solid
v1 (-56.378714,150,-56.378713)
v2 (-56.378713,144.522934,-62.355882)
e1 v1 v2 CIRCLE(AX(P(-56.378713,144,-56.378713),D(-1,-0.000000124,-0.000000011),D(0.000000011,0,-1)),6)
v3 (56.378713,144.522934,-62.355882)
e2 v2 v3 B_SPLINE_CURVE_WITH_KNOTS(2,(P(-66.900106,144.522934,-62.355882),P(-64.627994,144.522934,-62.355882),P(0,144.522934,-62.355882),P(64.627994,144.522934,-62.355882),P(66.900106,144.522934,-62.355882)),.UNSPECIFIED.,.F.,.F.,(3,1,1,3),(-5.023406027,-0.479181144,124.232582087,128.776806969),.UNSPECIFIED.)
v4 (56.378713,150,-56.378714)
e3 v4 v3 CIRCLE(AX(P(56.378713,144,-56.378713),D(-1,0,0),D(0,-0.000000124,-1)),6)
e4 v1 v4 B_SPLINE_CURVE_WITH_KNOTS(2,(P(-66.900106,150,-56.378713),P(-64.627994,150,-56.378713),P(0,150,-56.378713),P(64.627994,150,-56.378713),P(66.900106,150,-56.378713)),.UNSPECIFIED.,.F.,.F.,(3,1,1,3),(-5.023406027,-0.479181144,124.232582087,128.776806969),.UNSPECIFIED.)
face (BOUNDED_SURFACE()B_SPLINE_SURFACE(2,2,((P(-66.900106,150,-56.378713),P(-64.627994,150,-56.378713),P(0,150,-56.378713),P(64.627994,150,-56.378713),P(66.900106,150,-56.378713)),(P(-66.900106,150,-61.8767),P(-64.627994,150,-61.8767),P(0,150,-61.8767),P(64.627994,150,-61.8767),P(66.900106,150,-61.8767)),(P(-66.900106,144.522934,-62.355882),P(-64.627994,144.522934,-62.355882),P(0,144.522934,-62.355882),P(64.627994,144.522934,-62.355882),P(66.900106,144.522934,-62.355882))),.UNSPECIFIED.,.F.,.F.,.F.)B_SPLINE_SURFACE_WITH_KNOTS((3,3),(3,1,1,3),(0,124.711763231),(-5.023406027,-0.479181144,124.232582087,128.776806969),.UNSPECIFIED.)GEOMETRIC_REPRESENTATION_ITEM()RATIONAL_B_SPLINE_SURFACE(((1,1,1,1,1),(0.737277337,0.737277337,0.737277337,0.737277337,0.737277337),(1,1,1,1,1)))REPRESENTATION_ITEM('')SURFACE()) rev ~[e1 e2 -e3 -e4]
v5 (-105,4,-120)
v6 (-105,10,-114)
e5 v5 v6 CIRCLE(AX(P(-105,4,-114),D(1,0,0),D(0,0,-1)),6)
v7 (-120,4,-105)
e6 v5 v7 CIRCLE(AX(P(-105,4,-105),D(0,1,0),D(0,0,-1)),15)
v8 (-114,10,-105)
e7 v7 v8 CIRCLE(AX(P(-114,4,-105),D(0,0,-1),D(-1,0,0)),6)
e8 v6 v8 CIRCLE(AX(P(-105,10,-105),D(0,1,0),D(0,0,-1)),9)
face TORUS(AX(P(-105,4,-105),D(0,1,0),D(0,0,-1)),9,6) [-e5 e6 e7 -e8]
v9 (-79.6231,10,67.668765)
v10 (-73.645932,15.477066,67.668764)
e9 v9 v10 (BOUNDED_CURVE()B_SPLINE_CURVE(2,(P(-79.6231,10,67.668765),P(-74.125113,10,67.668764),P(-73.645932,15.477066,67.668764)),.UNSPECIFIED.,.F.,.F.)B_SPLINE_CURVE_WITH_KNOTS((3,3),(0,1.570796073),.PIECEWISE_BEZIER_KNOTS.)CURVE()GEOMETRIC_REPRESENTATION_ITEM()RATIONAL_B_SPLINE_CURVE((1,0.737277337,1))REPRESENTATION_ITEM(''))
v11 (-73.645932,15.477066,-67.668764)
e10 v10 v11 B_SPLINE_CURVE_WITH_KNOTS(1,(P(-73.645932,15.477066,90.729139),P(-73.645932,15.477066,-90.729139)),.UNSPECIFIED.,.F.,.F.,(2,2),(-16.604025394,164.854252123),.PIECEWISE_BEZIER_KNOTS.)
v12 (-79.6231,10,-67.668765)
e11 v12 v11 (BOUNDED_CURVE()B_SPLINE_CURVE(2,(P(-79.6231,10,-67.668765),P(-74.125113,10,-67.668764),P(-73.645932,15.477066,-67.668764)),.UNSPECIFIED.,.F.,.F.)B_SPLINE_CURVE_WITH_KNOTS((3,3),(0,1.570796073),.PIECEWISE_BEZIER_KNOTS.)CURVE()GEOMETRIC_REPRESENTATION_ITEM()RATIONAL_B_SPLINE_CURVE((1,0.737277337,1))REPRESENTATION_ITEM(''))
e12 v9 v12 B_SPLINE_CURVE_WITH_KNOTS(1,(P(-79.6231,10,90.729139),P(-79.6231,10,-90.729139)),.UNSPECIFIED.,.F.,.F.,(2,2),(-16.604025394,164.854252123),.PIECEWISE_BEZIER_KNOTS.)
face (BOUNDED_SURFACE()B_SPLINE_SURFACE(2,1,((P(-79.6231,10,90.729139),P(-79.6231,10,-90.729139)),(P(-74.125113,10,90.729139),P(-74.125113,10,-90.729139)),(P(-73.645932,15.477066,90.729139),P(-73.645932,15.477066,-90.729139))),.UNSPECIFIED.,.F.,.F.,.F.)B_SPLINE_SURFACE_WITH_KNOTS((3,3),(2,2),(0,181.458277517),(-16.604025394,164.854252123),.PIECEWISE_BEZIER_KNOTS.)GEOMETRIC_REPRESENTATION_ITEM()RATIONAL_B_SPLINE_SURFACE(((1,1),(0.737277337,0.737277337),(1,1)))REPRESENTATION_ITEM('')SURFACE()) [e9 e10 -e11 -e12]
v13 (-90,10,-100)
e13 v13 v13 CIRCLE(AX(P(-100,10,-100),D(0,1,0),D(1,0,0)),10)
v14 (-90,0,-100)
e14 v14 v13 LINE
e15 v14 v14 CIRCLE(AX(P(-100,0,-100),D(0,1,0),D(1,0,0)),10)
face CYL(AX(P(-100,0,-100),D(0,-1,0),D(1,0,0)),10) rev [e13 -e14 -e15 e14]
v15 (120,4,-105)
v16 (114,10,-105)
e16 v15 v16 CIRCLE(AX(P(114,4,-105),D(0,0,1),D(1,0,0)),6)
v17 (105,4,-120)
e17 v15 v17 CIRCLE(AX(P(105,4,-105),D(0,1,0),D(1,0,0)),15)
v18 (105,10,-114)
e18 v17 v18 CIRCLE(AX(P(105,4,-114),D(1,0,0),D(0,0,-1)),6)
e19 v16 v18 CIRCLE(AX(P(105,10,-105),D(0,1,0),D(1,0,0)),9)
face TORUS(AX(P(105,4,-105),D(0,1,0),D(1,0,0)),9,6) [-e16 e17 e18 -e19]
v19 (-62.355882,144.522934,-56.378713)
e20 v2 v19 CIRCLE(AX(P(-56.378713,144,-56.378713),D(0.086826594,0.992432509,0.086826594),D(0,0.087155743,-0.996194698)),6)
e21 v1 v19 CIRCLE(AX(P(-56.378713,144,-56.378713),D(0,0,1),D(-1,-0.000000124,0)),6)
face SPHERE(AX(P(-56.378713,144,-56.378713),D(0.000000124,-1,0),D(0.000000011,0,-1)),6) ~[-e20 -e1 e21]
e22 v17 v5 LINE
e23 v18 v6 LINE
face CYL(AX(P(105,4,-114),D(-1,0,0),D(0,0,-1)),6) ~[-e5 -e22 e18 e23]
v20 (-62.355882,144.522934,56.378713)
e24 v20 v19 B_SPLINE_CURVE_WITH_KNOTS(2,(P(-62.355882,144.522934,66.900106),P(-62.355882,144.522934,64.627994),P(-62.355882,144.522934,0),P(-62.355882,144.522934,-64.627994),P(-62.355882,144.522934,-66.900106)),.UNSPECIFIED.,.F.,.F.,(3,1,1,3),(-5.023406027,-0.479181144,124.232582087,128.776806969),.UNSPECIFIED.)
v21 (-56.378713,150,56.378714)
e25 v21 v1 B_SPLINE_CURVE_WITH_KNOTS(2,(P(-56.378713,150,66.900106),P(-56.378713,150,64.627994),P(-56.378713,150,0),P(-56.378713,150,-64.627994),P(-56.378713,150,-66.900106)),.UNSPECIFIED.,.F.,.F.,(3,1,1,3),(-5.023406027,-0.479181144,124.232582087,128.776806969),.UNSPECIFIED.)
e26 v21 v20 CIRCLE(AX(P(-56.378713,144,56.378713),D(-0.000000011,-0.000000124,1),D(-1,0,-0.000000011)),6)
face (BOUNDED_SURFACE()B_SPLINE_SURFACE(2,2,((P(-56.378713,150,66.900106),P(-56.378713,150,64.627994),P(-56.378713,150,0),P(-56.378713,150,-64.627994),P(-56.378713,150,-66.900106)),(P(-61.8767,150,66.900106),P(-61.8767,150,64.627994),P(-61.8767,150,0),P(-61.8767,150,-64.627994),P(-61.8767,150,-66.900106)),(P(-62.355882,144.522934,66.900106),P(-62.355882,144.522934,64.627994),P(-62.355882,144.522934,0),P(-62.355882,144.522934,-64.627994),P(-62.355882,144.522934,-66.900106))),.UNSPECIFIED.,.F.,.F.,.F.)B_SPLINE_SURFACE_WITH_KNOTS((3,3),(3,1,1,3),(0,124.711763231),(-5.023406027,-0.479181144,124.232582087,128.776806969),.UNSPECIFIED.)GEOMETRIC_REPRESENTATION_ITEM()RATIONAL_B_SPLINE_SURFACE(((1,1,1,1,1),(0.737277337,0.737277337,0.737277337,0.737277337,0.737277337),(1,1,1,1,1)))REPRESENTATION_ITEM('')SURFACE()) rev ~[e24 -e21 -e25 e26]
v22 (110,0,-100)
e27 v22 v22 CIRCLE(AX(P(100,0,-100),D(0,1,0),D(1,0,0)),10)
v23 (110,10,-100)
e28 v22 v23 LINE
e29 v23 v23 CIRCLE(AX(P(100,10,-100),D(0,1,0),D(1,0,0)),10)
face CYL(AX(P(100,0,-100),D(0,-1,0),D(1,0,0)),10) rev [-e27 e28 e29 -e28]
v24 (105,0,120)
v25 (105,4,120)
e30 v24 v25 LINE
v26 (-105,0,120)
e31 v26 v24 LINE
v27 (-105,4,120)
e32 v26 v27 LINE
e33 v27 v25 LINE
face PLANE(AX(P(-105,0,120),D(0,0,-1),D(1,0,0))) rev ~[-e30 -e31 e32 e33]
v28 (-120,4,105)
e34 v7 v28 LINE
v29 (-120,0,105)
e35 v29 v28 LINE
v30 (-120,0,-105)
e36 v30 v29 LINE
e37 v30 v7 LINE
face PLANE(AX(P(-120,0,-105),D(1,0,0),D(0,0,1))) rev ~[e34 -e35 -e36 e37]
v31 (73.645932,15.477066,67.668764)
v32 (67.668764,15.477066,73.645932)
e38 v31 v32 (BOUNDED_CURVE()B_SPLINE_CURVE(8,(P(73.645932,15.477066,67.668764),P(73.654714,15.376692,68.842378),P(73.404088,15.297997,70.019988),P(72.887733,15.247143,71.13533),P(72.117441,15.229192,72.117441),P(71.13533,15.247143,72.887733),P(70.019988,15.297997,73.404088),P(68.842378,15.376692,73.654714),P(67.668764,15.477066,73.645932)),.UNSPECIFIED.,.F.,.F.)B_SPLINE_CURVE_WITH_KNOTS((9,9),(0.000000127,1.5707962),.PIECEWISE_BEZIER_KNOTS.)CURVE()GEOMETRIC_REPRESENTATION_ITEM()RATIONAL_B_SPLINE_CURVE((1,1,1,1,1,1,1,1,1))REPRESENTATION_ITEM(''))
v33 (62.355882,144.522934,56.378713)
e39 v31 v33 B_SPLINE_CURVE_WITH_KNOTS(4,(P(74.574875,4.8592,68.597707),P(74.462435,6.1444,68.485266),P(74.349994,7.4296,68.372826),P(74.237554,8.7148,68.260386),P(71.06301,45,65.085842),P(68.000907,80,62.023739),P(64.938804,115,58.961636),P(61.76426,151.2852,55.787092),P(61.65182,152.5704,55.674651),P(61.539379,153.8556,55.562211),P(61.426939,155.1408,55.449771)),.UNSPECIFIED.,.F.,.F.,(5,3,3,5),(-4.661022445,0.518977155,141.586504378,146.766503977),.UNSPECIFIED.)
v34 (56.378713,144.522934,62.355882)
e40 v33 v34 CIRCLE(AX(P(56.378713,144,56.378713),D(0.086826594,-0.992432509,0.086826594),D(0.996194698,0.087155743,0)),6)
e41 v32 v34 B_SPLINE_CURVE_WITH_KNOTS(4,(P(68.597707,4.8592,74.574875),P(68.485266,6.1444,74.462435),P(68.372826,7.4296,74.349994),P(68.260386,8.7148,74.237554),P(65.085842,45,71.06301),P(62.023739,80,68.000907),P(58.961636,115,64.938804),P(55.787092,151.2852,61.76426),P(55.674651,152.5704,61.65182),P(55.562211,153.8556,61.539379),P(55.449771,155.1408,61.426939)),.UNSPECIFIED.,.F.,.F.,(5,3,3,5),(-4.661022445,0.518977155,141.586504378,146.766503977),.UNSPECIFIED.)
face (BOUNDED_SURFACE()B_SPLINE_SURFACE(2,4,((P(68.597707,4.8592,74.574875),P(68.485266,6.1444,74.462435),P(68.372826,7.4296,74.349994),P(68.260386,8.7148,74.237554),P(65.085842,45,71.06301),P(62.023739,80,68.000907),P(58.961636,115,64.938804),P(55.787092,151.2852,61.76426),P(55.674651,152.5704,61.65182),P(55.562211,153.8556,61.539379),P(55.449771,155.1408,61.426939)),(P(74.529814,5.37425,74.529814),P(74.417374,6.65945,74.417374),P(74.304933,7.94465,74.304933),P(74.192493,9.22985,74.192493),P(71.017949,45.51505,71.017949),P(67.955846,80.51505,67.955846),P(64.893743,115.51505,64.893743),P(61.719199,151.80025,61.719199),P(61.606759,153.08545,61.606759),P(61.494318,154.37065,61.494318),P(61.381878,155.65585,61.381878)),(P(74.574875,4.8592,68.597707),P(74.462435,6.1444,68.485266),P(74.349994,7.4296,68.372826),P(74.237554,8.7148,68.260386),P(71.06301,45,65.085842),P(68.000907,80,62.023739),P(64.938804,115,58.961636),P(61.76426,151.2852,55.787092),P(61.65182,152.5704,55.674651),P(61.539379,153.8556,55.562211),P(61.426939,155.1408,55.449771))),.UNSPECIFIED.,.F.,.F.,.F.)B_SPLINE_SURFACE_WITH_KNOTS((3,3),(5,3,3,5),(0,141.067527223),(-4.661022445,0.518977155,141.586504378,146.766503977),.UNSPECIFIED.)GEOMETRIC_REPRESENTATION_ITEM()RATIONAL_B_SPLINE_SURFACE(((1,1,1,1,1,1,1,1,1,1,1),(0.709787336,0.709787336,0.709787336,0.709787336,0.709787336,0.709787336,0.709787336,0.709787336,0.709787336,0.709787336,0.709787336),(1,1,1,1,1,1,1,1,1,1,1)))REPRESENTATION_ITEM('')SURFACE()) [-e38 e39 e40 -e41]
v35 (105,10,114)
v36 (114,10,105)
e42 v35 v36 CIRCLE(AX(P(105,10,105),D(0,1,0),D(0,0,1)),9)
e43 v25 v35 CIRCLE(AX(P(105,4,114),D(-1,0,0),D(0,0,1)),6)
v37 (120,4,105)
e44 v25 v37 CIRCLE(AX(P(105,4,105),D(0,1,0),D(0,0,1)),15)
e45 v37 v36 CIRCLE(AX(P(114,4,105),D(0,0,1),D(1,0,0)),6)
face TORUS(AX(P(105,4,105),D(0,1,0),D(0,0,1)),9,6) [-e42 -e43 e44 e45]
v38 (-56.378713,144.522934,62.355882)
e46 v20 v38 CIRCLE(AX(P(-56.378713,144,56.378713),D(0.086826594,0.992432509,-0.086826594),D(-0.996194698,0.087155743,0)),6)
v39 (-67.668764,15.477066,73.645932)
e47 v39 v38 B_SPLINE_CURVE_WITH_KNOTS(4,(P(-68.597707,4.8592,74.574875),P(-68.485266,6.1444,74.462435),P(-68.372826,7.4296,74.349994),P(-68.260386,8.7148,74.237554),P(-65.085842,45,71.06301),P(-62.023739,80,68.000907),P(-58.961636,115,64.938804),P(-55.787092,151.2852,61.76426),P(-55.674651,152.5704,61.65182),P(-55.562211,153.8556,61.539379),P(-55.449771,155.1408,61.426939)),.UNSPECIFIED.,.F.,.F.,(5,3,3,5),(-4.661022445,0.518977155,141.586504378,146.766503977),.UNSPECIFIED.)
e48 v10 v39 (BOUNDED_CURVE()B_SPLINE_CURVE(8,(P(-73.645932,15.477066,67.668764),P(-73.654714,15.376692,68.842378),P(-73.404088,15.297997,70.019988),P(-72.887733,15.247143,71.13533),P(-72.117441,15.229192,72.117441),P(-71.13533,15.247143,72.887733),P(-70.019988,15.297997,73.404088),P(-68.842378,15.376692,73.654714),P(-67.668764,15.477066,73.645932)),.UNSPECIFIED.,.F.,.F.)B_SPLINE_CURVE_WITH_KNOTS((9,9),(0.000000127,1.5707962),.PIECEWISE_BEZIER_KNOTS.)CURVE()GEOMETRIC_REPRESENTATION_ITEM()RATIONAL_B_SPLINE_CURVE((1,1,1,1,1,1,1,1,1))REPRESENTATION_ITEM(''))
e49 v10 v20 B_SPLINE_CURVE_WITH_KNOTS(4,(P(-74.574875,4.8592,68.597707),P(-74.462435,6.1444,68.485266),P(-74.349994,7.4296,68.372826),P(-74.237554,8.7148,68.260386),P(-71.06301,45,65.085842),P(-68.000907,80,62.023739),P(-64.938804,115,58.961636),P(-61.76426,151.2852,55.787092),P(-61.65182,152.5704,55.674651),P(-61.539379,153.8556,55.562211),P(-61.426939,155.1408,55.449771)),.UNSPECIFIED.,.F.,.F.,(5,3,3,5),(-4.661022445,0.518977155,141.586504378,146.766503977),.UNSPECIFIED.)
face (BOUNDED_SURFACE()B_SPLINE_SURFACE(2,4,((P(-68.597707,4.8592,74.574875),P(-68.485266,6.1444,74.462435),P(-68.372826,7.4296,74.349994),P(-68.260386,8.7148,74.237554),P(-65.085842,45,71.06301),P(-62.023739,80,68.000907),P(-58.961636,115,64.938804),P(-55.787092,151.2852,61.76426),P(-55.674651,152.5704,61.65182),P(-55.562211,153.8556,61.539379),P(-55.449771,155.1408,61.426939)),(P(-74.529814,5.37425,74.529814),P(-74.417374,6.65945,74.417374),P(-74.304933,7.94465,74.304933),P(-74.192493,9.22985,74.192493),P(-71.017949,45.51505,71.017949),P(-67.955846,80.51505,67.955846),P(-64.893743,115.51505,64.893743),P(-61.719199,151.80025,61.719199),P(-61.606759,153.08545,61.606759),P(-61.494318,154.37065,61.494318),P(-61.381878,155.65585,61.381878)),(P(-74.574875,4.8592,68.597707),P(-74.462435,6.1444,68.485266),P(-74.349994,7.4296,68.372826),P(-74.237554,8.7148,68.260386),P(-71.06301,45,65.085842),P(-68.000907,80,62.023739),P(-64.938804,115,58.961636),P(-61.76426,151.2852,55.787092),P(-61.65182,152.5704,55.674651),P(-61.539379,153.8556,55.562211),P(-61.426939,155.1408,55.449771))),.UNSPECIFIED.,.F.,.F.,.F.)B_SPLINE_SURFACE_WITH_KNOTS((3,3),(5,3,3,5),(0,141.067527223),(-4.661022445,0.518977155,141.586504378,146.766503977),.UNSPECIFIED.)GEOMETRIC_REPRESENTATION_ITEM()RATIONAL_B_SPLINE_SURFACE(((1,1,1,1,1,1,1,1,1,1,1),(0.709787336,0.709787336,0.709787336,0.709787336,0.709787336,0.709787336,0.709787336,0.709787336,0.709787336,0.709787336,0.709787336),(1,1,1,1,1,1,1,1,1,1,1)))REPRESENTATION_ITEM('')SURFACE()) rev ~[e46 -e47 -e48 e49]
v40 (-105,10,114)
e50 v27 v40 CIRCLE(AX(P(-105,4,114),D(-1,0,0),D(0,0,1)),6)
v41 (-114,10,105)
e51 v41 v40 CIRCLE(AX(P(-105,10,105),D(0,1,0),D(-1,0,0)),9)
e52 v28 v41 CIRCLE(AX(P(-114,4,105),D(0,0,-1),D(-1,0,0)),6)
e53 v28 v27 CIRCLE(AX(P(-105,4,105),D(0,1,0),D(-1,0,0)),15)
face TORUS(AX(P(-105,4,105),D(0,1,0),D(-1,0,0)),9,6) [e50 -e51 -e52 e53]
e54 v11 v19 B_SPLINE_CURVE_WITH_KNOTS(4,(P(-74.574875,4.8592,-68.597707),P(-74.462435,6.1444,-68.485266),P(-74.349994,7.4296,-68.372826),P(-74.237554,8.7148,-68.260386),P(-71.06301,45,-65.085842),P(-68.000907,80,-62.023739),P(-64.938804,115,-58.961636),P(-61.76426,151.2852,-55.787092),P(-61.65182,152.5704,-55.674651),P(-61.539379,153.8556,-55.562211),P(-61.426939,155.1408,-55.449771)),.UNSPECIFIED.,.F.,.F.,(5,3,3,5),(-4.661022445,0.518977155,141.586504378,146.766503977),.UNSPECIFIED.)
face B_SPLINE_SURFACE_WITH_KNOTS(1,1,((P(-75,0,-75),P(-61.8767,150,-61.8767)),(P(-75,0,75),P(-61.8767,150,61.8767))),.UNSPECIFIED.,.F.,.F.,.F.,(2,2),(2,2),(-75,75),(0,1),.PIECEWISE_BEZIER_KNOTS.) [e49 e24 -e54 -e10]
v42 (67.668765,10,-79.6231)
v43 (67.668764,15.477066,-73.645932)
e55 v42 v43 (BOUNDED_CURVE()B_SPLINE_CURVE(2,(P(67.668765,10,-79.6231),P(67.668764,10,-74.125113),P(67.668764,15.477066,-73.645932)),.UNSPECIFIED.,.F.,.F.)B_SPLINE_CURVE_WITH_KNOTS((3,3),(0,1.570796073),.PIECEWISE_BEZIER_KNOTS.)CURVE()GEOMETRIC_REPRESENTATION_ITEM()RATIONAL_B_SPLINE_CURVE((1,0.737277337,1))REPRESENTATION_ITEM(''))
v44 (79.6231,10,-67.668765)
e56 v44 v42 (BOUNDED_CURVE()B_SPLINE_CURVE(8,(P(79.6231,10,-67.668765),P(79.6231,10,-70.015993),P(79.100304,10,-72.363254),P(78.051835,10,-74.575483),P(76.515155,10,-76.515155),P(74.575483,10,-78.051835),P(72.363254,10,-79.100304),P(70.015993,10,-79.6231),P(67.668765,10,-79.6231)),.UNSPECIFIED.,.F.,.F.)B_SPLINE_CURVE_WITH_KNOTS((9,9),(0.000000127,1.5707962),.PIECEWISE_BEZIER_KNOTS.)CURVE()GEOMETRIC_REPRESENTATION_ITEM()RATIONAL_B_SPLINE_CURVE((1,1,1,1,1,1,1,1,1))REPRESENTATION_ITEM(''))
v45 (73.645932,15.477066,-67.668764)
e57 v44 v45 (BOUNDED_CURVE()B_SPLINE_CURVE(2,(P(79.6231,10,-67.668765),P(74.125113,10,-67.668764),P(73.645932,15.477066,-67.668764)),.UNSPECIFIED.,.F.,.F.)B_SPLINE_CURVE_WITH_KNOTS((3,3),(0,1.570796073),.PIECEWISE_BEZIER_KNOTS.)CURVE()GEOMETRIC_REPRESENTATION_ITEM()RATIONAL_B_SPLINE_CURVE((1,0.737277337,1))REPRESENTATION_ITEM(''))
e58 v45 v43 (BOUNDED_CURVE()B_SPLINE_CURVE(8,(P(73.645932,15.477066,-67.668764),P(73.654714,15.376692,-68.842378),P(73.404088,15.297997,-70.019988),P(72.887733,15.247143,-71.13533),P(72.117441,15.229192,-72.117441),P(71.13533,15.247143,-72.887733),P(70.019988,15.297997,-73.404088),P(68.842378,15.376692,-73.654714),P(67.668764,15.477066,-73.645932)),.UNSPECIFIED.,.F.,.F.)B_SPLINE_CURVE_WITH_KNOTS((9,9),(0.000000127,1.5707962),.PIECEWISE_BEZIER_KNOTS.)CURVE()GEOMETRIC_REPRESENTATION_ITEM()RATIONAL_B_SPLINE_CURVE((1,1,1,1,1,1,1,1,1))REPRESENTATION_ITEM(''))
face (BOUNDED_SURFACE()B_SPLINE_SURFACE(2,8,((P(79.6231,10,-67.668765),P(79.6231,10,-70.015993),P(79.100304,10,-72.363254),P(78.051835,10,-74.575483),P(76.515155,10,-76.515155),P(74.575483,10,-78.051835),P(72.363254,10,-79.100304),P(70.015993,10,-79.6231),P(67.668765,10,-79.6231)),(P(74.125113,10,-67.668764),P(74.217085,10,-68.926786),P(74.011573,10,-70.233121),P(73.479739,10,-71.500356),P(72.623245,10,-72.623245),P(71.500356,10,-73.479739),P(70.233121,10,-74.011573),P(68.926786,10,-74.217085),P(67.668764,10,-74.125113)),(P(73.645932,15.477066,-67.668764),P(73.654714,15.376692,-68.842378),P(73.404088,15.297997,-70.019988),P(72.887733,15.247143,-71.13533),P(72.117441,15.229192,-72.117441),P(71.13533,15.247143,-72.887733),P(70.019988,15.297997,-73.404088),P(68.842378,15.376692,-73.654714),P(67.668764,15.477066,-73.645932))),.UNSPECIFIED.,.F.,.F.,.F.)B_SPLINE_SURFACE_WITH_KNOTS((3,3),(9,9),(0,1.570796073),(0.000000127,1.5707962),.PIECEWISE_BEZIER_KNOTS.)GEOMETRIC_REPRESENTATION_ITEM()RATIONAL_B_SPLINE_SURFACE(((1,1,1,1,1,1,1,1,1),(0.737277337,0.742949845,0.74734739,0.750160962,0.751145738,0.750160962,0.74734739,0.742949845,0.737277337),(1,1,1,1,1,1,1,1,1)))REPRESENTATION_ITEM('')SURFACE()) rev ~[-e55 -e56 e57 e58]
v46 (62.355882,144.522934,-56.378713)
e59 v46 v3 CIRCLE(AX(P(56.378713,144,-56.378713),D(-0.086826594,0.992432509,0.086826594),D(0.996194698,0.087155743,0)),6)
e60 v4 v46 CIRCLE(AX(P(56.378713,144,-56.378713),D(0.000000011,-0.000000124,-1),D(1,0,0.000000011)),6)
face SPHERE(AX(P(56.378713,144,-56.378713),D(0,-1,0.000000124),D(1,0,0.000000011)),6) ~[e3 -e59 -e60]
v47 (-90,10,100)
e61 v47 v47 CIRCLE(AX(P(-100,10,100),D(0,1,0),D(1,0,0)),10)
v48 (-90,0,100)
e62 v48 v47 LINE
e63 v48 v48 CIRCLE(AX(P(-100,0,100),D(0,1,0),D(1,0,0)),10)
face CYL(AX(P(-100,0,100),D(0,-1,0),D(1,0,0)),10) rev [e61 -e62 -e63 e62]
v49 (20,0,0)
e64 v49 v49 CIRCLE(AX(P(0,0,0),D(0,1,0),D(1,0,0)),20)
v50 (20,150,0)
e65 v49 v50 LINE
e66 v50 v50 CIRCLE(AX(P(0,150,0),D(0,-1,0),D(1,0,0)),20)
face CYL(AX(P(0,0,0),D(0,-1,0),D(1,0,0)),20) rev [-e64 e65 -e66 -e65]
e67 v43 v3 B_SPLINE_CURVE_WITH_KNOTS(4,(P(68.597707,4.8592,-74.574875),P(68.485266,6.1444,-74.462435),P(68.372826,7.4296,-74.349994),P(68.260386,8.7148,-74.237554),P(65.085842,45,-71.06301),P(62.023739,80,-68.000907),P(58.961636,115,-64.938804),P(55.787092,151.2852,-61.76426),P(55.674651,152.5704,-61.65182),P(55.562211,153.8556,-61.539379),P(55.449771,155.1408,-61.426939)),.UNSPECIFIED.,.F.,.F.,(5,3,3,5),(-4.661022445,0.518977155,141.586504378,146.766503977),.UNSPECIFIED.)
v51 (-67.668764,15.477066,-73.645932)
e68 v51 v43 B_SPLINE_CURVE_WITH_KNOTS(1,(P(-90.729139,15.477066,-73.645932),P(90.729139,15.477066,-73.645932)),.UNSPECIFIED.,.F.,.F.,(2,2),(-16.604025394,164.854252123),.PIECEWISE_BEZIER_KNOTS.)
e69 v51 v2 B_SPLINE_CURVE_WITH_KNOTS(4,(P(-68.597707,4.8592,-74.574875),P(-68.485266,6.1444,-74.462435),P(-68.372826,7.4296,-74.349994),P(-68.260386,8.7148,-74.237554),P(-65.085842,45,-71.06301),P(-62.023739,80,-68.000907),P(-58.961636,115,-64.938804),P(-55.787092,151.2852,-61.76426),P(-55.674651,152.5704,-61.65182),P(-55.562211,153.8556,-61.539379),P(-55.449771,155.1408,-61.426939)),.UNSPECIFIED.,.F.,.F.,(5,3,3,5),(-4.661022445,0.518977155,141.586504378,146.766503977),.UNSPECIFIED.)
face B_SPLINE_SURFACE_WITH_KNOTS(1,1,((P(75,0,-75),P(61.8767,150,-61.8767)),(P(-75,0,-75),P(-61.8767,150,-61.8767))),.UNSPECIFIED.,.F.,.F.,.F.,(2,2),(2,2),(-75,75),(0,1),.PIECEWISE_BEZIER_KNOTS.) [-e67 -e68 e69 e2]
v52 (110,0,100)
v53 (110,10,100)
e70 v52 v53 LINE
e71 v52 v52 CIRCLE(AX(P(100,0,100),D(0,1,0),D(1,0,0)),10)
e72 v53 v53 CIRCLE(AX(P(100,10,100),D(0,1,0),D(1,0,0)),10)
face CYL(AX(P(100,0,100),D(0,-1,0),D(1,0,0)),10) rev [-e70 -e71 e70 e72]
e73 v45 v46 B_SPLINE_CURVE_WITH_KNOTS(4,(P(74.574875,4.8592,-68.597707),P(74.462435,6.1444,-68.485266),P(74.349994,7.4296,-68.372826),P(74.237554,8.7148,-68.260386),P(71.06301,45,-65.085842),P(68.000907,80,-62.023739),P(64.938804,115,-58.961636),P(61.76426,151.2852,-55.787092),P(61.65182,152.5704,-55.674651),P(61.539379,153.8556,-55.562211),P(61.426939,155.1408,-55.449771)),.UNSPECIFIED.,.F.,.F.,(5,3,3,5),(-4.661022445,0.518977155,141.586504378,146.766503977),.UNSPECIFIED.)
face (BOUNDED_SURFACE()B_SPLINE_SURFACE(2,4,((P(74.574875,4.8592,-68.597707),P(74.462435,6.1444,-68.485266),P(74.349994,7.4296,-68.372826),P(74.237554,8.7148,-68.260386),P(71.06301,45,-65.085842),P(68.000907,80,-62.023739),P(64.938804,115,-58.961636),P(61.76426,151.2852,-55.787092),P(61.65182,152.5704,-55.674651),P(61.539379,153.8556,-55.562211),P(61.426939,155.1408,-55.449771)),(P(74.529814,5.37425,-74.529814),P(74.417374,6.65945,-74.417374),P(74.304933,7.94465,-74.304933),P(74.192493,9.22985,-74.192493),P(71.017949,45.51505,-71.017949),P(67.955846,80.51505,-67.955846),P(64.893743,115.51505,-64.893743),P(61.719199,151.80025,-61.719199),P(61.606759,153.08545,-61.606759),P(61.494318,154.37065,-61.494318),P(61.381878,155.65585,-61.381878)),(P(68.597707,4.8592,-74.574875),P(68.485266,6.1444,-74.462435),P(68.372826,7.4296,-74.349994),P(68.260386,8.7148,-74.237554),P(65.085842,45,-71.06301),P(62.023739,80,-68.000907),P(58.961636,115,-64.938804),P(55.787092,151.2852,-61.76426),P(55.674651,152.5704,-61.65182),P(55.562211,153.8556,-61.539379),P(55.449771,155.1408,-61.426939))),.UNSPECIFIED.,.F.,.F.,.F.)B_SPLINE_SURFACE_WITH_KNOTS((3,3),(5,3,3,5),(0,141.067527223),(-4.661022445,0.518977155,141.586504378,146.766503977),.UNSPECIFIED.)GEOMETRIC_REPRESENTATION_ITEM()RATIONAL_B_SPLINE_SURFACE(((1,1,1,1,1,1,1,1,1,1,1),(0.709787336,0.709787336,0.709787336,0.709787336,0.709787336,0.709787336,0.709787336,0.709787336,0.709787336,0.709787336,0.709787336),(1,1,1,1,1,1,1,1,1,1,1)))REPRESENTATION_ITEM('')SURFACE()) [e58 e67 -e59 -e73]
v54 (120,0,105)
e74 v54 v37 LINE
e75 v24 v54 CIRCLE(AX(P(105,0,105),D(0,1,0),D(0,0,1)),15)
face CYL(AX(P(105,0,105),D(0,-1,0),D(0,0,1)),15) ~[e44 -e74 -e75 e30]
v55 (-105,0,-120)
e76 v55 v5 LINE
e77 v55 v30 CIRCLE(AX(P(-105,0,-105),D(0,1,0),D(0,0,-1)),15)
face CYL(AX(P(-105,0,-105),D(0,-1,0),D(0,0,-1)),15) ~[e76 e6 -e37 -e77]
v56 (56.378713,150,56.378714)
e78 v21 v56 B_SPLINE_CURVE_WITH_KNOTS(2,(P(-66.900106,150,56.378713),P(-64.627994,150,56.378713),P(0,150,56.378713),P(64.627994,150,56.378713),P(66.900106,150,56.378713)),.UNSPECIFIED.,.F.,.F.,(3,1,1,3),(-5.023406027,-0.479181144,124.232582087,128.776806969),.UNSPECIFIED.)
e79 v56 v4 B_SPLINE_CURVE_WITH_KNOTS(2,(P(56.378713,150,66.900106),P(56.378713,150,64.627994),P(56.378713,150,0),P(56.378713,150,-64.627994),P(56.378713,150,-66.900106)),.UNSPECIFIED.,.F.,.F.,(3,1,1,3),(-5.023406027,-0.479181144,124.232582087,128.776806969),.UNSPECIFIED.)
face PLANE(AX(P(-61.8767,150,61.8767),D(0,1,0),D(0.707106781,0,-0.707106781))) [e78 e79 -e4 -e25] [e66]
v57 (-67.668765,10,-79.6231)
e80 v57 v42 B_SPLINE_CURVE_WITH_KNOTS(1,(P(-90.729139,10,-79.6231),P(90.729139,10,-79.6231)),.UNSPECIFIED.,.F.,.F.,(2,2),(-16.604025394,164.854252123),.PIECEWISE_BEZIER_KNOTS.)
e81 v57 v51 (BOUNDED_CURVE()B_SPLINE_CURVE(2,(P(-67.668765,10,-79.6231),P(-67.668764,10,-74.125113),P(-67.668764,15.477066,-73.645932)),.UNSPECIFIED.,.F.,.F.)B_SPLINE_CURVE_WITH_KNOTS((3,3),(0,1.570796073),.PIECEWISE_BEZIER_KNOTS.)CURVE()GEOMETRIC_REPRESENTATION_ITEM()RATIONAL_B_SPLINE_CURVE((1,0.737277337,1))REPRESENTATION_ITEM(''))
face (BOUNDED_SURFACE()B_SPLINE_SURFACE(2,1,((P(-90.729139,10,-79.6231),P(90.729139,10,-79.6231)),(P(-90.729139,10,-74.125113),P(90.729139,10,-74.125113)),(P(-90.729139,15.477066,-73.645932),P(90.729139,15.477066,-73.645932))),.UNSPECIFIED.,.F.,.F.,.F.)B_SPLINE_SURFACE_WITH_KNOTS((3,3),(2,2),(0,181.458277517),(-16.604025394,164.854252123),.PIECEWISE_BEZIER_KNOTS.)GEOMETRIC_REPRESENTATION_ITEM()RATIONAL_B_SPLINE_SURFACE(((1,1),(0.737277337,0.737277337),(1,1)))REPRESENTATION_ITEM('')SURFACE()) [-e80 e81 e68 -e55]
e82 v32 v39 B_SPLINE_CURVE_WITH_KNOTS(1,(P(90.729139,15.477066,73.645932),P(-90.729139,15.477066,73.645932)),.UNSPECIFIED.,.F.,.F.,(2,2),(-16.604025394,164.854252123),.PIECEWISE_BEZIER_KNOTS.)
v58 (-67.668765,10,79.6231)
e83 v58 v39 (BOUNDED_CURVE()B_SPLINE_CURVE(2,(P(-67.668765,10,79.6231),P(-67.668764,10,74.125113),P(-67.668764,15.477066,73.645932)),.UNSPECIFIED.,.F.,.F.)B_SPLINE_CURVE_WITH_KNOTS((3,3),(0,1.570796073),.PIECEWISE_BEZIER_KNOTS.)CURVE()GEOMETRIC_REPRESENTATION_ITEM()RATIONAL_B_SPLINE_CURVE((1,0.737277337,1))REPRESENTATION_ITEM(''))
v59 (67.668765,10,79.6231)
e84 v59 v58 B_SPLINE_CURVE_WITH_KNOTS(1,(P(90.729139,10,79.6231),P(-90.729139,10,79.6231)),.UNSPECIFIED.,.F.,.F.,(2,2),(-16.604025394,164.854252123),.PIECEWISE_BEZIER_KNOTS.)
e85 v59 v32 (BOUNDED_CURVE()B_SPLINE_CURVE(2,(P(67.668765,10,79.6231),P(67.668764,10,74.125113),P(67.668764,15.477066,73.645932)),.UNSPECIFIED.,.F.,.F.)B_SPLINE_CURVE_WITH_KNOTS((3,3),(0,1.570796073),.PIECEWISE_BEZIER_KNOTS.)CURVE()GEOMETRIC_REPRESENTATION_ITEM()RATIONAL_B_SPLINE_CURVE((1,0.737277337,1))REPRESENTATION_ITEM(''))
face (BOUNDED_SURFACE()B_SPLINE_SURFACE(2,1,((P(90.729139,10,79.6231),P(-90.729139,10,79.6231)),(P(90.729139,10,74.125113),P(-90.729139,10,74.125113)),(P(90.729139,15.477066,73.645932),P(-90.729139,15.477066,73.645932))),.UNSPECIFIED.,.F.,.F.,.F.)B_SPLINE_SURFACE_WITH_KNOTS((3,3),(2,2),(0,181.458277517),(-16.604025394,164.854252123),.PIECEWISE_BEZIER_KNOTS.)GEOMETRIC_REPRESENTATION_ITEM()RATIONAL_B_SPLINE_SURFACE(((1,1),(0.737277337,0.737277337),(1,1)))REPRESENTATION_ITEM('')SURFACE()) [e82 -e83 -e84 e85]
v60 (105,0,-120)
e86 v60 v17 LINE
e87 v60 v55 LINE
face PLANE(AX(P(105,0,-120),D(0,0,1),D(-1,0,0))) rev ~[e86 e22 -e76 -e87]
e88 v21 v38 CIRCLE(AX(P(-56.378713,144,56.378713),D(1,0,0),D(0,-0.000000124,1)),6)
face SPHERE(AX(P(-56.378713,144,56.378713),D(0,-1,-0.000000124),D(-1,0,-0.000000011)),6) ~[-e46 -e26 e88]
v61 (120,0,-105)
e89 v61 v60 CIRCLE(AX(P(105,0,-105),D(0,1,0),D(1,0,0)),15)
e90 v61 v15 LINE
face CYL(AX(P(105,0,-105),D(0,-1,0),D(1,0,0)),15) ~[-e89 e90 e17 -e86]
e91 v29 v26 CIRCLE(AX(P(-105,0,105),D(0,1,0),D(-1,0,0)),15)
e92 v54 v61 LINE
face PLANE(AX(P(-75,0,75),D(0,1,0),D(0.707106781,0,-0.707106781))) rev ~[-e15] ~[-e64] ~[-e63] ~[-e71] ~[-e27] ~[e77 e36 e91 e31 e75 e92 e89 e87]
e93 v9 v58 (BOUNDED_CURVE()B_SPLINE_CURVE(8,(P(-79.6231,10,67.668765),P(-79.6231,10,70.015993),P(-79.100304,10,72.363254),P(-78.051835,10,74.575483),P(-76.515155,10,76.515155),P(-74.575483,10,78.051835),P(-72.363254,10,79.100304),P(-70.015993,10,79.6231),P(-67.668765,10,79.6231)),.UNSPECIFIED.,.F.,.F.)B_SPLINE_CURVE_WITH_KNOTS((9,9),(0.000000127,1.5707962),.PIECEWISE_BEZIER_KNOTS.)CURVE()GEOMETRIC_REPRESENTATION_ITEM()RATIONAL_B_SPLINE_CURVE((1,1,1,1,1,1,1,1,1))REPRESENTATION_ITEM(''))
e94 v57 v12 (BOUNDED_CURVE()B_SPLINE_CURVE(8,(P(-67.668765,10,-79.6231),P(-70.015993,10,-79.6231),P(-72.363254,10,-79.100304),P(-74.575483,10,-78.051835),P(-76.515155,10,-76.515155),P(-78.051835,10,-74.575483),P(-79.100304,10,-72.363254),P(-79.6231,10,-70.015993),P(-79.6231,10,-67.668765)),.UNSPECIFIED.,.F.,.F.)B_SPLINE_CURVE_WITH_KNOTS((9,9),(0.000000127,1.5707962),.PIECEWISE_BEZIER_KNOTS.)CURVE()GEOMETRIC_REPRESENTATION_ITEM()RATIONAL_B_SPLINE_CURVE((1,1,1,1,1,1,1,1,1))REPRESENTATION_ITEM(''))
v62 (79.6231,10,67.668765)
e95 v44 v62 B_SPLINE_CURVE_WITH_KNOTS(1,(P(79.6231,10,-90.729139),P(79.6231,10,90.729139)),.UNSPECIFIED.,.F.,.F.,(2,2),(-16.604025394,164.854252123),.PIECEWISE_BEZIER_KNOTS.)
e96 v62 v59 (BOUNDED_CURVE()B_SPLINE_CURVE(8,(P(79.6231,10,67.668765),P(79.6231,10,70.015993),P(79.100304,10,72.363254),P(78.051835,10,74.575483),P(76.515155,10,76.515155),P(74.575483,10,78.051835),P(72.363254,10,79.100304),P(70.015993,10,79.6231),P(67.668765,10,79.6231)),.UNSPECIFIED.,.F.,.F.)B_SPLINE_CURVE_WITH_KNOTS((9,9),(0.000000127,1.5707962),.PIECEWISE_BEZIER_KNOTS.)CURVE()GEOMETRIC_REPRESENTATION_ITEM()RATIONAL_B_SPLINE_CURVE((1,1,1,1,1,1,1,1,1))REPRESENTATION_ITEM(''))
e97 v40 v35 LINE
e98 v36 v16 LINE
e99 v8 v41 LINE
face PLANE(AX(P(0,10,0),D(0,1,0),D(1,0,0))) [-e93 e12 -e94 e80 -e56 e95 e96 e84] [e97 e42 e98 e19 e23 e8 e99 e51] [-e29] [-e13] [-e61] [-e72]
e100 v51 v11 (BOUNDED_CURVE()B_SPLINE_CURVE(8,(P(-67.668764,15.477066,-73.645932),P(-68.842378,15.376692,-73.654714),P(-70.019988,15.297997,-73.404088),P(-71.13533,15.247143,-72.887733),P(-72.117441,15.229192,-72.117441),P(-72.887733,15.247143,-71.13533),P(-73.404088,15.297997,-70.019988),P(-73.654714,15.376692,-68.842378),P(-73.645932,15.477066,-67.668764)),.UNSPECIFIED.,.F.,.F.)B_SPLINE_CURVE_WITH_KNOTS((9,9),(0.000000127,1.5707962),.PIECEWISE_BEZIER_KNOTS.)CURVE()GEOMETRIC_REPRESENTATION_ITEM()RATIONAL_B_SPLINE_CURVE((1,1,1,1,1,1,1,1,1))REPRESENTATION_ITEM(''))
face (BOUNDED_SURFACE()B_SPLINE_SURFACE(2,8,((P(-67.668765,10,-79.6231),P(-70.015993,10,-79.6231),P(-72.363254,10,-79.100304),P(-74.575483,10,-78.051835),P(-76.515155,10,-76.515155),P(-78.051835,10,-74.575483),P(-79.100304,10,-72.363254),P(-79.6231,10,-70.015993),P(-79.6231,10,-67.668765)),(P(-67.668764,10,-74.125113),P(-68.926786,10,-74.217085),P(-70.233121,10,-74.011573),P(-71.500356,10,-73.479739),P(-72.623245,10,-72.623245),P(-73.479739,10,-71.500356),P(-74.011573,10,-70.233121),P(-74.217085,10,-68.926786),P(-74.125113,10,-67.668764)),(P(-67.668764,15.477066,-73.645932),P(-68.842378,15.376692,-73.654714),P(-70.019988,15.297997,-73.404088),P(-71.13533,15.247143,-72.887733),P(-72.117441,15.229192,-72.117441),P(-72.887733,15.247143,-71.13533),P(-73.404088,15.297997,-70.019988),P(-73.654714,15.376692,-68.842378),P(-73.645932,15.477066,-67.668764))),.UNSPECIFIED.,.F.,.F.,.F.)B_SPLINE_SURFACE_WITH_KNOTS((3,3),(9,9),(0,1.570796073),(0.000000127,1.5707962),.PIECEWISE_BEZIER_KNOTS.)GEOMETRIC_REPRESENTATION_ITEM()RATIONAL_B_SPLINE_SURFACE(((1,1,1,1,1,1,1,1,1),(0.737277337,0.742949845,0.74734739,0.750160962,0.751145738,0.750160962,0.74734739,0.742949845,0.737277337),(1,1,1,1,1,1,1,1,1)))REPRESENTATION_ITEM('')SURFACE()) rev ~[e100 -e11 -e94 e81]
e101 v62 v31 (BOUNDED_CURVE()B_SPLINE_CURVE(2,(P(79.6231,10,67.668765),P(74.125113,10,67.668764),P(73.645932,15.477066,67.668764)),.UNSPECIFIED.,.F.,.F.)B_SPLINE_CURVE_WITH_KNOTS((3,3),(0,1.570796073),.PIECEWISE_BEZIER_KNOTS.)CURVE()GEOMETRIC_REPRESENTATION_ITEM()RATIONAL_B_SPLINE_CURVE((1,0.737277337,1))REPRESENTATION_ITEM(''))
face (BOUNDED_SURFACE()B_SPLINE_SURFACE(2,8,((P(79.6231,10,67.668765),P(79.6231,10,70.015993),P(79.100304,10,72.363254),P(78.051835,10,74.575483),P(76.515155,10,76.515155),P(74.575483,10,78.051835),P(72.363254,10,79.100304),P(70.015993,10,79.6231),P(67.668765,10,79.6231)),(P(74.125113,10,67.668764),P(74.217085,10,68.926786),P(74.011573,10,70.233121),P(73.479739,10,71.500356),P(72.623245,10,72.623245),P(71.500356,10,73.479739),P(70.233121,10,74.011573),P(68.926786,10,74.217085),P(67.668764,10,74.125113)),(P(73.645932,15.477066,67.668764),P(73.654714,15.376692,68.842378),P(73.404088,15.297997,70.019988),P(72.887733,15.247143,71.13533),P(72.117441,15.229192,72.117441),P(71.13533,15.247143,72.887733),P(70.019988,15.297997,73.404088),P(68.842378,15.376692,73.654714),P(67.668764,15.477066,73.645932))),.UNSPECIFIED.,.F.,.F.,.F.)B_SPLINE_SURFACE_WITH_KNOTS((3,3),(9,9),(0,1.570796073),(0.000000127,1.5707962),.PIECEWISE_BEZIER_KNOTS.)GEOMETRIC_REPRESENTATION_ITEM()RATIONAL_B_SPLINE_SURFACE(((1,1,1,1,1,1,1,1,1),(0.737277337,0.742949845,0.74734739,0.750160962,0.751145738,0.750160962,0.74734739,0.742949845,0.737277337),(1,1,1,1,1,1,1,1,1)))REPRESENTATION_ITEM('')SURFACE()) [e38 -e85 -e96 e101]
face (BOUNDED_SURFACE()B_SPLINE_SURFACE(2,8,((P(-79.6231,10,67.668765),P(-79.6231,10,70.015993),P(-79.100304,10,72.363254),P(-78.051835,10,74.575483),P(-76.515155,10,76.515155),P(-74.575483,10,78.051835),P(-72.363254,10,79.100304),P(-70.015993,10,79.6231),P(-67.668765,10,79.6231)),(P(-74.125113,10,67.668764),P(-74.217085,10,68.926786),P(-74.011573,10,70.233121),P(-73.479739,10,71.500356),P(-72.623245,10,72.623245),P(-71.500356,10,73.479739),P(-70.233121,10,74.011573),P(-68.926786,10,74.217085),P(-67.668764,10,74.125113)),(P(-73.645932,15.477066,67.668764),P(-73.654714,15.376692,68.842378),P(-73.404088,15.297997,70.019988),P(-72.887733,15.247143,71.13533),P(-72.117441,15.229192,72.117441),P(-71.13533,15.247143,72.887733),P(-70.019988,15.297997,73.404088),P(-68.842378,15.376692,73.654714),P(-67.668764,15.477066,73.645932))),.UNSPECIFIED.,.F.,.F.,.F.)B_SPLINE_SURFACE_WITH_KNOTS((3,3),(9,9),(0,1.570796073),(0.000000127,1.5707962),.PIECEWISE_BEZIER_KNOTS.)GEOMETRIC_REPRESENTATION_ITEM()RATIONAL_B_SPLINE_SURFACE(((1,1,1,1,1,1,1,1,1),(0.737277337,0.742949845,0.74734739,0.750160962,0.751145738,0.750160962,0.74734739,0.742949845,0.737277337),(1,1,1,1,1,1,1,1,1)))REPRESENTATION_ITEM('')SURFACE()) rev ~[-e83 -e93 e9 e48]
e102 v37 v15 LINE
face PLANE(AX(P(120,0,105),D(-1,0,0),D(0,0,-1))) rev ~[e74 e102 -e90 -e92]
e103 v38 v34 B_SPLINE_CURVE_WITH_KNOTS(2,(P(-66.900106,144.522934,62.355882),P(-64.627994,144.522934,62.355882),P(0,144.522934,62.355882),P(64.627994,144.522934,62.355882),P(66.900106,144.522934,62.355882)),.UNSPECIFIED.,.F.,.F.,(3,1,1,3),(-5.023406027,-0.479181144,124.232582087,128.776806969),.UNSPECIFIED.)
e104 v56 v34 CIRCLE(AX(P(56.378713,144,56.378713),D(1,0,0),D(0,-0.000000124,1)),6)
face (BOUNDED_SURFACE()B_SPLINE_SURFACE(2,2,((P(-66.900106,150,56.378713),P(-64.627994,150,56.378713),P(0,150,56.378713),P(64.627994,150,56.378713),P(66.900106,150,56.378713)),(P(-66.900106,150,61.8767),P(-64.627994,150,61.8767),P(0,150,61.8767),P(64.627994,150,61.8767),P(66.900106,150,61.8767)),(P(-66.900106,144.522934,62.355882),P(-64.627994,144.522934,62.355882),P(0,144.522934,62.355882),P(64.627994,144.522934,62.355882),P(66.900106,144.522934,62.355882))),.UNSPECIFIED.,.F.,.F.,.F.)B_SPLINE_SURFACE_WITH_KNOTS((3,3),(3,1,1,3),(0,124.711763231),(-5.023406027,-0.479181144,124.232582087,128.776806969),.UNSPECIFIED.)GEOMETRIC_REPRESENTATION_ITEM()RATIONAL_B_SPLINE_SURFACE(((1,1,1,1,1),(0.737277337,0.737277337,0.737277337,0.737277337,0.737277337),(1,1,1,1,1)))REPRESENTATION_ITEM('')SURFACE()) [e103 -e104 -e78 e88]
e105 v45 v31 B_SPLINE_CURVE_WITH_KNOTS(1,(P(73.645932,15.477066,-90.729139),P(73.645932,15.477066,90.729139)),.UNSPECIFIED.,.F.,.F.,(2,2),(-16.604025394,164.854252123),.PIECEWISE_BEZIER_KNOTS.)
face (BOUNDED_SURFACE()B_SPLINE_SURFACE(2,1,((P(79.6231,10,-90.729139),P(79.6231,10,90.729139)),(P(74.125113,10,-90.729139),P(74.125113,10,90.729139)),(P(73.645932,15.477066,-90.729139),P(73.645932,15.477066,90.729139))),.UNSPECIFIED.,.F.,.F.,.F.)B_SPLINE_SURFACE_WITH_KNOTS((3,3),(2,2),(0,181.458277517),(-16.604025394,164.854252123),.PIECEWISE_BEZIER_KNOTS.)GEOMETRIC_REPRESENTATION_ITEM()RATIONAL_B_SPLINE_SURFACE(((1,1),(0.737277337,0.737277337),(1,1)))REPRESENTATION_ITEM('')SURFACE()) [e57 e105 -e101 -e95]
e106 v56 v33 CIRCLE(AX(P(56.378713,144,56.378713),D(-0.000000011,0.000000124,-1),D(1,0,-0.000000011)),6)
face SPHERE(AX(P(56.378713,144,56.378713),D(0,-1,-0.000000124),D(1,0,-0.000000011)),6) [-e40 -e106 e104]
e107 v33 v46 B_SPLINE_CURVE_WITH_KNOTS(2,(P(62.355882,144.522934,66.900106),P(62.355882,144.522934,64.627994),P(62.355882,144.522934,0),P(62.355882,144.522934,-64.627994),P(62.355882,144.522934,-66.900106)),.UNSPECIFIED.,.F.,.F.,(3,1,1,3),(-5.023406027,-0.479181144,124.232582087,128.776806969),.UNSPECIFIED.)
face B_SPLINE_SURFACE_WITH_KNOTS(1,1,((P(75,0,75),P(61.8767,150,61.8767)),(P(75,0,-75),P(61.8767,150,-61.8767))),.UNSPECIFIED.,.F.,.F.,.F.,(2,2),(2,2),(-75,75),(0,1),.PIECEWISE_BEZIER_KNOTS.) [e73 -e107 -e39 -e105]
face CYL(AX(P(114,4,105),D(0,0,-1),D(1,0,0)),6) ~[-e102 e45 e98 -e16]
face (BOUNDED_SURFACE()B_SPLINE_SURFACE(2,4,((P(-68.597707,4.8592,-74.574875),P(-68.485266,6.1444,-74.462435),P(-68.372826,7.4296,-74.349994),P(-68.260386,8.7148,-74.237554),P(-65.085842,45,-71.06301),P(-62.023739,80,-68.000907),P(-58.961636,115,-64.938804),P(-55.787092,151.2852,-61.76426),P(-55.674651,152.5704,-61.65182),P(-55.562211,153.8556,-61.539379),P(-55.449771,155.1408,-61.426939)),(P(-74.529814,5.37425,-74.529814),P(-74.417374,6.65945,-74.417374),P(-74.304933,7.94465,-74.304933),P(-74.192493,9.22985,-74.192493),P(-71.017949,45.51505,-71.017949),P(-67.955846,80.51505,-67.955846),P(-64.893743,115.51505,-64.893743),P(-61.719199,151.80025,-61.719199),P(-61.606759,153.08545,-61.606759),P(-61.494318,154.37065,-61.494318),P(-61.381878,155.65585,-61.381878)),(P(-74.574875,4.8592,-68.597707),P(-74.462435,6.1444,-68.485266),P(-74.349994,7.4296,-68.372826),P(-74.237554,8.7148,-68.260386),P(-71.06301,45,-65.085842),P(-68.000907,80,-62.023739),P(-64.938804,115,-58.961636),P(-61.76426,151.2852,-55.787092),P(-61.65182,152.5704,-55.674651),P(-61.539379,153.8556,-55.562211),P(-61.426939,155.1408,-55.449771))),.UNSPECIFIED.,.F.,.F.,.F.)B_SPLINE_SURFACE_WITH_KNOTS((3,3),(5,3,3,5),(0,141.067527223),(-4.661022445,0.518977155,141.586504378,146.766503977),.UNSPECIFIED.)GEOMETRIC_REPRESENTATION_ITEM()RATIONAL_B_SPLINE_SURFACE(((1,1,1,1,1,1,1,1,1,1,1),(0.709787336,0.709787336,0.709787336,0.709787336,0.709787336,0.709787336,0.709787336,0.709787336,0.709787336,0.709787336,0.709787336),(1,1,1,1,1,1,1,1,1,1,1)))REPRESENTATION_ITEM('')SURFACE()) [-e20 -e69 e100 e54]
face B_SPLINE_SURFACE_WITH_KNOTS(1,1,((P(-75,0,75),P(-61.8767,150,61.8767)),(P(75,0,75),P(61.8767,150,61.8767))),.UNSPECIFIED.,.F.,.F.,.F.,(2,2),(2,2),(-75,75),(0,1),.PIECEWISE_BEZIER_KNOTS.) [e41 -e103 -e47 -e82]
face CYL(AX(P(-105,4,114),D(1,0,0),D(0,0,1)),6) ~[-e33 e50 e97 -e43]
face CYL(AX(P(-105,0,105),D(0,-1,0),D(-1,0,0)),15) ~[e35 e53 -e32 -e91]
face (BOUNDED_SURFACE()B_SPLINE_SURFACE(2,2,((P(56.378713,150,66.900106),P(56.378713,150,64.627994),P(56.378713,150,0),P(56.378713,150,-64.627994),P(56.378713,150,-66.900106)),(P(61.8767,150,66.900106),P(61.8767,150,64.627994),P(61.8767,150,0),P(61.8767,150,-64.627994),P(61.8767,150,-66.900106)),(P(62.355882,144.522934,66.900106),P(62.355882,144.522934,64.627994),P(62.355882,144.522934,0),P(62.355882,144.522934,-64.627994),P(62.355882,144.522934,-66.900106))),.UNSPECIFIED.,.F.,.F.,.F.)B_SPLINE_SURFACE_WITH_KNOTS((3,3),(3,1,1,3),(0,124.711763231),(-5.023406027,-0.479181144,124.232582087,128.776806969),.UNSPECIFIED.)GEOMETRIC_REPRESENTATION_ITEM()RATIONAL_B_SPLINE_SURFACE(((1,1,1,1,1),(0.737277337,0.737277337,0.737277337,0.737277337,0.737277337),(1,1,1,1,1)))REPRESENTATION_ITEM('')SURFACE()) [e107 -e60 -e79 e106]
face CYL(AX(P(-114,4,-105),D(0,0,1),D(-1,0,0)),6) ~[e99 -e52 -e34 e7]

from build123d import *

# Parameters (mm, degrees)
SKETCH1_R           = 10
BOSS_EXTRUDE1_DEPTH = 10
SKETCH2_W           = 150
SKETCH2_H           = 150
BOSS_EXTRUDE2_DEPTH = 150
BOSS_EXTRUDE2_TAPER = 5
SKETCH3_R           = 20
CUT_EXTRUDE1_DEPTH  = 151.0000001
FILLET1_R           = 6


with BuildPart() as part:
    # Sketch1 → Boss-Extrude1 (new body)
    with BuildSketch(Plane(origin=(0, 0, 0), x_dir=(1, 0, 0), z_dir=(0, 1, 0))):
        with BuildLine():
            ThreePointArc((-120, -105), (-115.606601718, -115.606601718), (-105, -120))
            Line((-105, -120), (105, -120))
            ThreePointArc((105, -120), (115.606601718, -115.606601718), (120, -105))
            Line((120, -105), (120, 105))
            ThreePointArc((120, 105), (115.606601718, 115.606601718), (105, 120))
            Line((105, 120), (-105, 120))
            ThreePointArc((-105, 120), (-115.606601718, 115.606601718), (-120, 105))
            Line((-120, 105), (-120, -105))
        make_face()
        with Locations((-100, -100)):
            Circle(SKETCH1_R, mode=Mode.SUBTRACT)
        with Locations((100, -100)):
            Circle(SKETCH1_R, mode=Mode.SUBTRACT)
        with Locations((-100, 100)):
            Circle(SKETCH1_R, mode=Mode.SUBTRACT)
        with Locations((100, 100)):
            Circle(SKETCH1_R, mode=Mode.SUBTRACT)
    extrude(amount=BOSS_EXTRUDE1_DEPTH)

    # Sketch2 → Boss-Extrude2 (add)
    with BuildSketch(Plane(origin=(0, 0, 0), x_dir=(1, 0, 0), z_dir=(0, 1, 0))):
        Rectangle(SKETCH2_W, SKETCH2_H)
    extrude(amount=BOSS_EXTRUDE2_DEPTH, taper=BOSS_EXTRUDE2_TAPER)

    # Sketch3 → Cut-Extrude1 (cut, through all)
    with BuildSketch(Plane(origin=(0, 0, 0), x_dir=(1, 0, 0), z_dir=(0, 1, 0))):
        Circle(SKETCH3_R)
    extrude(amount=CUT_EXTRUDE1_DEPTH, mode=Mode.SUBTRACT)

    # Fillet1
    fillet1_edges = [part.edges().sort_by_distance(p)[0] for p in [
        (-120, 10, 0),
        (-115.606601718, 10, 115.606601718),
        (0, 10, 120),
        (115.606601718, 10, 115.606601718),
        (120, 10, 0),
        (115.606601718, 10, -115.606601718),
        (0, 10, -120),
        (74.125113365, 10, 0),
        (0, 10, -74.125113365),
        (-74.125113365, 10, 0),
        (0, 10, 74.125113365),
        (68.000906918, 80, 68.000906918),
        (68.000906918, 80, -68.000906918),
        (-68.000906918, 80, -68.000906918),
        (-68.000906918, 80, 68.000906918),
        (61.876700471, 150, 0),
        (0, 150, -61.876700471),
        (-61.876700471, 150, 0),
        (0, 150, 61.876700471),
        (-115.606601718, 10, -115.606601718),
    ]]
    fillet(fillet1_edges, radius=FILLET1_R)


solid = part.part
